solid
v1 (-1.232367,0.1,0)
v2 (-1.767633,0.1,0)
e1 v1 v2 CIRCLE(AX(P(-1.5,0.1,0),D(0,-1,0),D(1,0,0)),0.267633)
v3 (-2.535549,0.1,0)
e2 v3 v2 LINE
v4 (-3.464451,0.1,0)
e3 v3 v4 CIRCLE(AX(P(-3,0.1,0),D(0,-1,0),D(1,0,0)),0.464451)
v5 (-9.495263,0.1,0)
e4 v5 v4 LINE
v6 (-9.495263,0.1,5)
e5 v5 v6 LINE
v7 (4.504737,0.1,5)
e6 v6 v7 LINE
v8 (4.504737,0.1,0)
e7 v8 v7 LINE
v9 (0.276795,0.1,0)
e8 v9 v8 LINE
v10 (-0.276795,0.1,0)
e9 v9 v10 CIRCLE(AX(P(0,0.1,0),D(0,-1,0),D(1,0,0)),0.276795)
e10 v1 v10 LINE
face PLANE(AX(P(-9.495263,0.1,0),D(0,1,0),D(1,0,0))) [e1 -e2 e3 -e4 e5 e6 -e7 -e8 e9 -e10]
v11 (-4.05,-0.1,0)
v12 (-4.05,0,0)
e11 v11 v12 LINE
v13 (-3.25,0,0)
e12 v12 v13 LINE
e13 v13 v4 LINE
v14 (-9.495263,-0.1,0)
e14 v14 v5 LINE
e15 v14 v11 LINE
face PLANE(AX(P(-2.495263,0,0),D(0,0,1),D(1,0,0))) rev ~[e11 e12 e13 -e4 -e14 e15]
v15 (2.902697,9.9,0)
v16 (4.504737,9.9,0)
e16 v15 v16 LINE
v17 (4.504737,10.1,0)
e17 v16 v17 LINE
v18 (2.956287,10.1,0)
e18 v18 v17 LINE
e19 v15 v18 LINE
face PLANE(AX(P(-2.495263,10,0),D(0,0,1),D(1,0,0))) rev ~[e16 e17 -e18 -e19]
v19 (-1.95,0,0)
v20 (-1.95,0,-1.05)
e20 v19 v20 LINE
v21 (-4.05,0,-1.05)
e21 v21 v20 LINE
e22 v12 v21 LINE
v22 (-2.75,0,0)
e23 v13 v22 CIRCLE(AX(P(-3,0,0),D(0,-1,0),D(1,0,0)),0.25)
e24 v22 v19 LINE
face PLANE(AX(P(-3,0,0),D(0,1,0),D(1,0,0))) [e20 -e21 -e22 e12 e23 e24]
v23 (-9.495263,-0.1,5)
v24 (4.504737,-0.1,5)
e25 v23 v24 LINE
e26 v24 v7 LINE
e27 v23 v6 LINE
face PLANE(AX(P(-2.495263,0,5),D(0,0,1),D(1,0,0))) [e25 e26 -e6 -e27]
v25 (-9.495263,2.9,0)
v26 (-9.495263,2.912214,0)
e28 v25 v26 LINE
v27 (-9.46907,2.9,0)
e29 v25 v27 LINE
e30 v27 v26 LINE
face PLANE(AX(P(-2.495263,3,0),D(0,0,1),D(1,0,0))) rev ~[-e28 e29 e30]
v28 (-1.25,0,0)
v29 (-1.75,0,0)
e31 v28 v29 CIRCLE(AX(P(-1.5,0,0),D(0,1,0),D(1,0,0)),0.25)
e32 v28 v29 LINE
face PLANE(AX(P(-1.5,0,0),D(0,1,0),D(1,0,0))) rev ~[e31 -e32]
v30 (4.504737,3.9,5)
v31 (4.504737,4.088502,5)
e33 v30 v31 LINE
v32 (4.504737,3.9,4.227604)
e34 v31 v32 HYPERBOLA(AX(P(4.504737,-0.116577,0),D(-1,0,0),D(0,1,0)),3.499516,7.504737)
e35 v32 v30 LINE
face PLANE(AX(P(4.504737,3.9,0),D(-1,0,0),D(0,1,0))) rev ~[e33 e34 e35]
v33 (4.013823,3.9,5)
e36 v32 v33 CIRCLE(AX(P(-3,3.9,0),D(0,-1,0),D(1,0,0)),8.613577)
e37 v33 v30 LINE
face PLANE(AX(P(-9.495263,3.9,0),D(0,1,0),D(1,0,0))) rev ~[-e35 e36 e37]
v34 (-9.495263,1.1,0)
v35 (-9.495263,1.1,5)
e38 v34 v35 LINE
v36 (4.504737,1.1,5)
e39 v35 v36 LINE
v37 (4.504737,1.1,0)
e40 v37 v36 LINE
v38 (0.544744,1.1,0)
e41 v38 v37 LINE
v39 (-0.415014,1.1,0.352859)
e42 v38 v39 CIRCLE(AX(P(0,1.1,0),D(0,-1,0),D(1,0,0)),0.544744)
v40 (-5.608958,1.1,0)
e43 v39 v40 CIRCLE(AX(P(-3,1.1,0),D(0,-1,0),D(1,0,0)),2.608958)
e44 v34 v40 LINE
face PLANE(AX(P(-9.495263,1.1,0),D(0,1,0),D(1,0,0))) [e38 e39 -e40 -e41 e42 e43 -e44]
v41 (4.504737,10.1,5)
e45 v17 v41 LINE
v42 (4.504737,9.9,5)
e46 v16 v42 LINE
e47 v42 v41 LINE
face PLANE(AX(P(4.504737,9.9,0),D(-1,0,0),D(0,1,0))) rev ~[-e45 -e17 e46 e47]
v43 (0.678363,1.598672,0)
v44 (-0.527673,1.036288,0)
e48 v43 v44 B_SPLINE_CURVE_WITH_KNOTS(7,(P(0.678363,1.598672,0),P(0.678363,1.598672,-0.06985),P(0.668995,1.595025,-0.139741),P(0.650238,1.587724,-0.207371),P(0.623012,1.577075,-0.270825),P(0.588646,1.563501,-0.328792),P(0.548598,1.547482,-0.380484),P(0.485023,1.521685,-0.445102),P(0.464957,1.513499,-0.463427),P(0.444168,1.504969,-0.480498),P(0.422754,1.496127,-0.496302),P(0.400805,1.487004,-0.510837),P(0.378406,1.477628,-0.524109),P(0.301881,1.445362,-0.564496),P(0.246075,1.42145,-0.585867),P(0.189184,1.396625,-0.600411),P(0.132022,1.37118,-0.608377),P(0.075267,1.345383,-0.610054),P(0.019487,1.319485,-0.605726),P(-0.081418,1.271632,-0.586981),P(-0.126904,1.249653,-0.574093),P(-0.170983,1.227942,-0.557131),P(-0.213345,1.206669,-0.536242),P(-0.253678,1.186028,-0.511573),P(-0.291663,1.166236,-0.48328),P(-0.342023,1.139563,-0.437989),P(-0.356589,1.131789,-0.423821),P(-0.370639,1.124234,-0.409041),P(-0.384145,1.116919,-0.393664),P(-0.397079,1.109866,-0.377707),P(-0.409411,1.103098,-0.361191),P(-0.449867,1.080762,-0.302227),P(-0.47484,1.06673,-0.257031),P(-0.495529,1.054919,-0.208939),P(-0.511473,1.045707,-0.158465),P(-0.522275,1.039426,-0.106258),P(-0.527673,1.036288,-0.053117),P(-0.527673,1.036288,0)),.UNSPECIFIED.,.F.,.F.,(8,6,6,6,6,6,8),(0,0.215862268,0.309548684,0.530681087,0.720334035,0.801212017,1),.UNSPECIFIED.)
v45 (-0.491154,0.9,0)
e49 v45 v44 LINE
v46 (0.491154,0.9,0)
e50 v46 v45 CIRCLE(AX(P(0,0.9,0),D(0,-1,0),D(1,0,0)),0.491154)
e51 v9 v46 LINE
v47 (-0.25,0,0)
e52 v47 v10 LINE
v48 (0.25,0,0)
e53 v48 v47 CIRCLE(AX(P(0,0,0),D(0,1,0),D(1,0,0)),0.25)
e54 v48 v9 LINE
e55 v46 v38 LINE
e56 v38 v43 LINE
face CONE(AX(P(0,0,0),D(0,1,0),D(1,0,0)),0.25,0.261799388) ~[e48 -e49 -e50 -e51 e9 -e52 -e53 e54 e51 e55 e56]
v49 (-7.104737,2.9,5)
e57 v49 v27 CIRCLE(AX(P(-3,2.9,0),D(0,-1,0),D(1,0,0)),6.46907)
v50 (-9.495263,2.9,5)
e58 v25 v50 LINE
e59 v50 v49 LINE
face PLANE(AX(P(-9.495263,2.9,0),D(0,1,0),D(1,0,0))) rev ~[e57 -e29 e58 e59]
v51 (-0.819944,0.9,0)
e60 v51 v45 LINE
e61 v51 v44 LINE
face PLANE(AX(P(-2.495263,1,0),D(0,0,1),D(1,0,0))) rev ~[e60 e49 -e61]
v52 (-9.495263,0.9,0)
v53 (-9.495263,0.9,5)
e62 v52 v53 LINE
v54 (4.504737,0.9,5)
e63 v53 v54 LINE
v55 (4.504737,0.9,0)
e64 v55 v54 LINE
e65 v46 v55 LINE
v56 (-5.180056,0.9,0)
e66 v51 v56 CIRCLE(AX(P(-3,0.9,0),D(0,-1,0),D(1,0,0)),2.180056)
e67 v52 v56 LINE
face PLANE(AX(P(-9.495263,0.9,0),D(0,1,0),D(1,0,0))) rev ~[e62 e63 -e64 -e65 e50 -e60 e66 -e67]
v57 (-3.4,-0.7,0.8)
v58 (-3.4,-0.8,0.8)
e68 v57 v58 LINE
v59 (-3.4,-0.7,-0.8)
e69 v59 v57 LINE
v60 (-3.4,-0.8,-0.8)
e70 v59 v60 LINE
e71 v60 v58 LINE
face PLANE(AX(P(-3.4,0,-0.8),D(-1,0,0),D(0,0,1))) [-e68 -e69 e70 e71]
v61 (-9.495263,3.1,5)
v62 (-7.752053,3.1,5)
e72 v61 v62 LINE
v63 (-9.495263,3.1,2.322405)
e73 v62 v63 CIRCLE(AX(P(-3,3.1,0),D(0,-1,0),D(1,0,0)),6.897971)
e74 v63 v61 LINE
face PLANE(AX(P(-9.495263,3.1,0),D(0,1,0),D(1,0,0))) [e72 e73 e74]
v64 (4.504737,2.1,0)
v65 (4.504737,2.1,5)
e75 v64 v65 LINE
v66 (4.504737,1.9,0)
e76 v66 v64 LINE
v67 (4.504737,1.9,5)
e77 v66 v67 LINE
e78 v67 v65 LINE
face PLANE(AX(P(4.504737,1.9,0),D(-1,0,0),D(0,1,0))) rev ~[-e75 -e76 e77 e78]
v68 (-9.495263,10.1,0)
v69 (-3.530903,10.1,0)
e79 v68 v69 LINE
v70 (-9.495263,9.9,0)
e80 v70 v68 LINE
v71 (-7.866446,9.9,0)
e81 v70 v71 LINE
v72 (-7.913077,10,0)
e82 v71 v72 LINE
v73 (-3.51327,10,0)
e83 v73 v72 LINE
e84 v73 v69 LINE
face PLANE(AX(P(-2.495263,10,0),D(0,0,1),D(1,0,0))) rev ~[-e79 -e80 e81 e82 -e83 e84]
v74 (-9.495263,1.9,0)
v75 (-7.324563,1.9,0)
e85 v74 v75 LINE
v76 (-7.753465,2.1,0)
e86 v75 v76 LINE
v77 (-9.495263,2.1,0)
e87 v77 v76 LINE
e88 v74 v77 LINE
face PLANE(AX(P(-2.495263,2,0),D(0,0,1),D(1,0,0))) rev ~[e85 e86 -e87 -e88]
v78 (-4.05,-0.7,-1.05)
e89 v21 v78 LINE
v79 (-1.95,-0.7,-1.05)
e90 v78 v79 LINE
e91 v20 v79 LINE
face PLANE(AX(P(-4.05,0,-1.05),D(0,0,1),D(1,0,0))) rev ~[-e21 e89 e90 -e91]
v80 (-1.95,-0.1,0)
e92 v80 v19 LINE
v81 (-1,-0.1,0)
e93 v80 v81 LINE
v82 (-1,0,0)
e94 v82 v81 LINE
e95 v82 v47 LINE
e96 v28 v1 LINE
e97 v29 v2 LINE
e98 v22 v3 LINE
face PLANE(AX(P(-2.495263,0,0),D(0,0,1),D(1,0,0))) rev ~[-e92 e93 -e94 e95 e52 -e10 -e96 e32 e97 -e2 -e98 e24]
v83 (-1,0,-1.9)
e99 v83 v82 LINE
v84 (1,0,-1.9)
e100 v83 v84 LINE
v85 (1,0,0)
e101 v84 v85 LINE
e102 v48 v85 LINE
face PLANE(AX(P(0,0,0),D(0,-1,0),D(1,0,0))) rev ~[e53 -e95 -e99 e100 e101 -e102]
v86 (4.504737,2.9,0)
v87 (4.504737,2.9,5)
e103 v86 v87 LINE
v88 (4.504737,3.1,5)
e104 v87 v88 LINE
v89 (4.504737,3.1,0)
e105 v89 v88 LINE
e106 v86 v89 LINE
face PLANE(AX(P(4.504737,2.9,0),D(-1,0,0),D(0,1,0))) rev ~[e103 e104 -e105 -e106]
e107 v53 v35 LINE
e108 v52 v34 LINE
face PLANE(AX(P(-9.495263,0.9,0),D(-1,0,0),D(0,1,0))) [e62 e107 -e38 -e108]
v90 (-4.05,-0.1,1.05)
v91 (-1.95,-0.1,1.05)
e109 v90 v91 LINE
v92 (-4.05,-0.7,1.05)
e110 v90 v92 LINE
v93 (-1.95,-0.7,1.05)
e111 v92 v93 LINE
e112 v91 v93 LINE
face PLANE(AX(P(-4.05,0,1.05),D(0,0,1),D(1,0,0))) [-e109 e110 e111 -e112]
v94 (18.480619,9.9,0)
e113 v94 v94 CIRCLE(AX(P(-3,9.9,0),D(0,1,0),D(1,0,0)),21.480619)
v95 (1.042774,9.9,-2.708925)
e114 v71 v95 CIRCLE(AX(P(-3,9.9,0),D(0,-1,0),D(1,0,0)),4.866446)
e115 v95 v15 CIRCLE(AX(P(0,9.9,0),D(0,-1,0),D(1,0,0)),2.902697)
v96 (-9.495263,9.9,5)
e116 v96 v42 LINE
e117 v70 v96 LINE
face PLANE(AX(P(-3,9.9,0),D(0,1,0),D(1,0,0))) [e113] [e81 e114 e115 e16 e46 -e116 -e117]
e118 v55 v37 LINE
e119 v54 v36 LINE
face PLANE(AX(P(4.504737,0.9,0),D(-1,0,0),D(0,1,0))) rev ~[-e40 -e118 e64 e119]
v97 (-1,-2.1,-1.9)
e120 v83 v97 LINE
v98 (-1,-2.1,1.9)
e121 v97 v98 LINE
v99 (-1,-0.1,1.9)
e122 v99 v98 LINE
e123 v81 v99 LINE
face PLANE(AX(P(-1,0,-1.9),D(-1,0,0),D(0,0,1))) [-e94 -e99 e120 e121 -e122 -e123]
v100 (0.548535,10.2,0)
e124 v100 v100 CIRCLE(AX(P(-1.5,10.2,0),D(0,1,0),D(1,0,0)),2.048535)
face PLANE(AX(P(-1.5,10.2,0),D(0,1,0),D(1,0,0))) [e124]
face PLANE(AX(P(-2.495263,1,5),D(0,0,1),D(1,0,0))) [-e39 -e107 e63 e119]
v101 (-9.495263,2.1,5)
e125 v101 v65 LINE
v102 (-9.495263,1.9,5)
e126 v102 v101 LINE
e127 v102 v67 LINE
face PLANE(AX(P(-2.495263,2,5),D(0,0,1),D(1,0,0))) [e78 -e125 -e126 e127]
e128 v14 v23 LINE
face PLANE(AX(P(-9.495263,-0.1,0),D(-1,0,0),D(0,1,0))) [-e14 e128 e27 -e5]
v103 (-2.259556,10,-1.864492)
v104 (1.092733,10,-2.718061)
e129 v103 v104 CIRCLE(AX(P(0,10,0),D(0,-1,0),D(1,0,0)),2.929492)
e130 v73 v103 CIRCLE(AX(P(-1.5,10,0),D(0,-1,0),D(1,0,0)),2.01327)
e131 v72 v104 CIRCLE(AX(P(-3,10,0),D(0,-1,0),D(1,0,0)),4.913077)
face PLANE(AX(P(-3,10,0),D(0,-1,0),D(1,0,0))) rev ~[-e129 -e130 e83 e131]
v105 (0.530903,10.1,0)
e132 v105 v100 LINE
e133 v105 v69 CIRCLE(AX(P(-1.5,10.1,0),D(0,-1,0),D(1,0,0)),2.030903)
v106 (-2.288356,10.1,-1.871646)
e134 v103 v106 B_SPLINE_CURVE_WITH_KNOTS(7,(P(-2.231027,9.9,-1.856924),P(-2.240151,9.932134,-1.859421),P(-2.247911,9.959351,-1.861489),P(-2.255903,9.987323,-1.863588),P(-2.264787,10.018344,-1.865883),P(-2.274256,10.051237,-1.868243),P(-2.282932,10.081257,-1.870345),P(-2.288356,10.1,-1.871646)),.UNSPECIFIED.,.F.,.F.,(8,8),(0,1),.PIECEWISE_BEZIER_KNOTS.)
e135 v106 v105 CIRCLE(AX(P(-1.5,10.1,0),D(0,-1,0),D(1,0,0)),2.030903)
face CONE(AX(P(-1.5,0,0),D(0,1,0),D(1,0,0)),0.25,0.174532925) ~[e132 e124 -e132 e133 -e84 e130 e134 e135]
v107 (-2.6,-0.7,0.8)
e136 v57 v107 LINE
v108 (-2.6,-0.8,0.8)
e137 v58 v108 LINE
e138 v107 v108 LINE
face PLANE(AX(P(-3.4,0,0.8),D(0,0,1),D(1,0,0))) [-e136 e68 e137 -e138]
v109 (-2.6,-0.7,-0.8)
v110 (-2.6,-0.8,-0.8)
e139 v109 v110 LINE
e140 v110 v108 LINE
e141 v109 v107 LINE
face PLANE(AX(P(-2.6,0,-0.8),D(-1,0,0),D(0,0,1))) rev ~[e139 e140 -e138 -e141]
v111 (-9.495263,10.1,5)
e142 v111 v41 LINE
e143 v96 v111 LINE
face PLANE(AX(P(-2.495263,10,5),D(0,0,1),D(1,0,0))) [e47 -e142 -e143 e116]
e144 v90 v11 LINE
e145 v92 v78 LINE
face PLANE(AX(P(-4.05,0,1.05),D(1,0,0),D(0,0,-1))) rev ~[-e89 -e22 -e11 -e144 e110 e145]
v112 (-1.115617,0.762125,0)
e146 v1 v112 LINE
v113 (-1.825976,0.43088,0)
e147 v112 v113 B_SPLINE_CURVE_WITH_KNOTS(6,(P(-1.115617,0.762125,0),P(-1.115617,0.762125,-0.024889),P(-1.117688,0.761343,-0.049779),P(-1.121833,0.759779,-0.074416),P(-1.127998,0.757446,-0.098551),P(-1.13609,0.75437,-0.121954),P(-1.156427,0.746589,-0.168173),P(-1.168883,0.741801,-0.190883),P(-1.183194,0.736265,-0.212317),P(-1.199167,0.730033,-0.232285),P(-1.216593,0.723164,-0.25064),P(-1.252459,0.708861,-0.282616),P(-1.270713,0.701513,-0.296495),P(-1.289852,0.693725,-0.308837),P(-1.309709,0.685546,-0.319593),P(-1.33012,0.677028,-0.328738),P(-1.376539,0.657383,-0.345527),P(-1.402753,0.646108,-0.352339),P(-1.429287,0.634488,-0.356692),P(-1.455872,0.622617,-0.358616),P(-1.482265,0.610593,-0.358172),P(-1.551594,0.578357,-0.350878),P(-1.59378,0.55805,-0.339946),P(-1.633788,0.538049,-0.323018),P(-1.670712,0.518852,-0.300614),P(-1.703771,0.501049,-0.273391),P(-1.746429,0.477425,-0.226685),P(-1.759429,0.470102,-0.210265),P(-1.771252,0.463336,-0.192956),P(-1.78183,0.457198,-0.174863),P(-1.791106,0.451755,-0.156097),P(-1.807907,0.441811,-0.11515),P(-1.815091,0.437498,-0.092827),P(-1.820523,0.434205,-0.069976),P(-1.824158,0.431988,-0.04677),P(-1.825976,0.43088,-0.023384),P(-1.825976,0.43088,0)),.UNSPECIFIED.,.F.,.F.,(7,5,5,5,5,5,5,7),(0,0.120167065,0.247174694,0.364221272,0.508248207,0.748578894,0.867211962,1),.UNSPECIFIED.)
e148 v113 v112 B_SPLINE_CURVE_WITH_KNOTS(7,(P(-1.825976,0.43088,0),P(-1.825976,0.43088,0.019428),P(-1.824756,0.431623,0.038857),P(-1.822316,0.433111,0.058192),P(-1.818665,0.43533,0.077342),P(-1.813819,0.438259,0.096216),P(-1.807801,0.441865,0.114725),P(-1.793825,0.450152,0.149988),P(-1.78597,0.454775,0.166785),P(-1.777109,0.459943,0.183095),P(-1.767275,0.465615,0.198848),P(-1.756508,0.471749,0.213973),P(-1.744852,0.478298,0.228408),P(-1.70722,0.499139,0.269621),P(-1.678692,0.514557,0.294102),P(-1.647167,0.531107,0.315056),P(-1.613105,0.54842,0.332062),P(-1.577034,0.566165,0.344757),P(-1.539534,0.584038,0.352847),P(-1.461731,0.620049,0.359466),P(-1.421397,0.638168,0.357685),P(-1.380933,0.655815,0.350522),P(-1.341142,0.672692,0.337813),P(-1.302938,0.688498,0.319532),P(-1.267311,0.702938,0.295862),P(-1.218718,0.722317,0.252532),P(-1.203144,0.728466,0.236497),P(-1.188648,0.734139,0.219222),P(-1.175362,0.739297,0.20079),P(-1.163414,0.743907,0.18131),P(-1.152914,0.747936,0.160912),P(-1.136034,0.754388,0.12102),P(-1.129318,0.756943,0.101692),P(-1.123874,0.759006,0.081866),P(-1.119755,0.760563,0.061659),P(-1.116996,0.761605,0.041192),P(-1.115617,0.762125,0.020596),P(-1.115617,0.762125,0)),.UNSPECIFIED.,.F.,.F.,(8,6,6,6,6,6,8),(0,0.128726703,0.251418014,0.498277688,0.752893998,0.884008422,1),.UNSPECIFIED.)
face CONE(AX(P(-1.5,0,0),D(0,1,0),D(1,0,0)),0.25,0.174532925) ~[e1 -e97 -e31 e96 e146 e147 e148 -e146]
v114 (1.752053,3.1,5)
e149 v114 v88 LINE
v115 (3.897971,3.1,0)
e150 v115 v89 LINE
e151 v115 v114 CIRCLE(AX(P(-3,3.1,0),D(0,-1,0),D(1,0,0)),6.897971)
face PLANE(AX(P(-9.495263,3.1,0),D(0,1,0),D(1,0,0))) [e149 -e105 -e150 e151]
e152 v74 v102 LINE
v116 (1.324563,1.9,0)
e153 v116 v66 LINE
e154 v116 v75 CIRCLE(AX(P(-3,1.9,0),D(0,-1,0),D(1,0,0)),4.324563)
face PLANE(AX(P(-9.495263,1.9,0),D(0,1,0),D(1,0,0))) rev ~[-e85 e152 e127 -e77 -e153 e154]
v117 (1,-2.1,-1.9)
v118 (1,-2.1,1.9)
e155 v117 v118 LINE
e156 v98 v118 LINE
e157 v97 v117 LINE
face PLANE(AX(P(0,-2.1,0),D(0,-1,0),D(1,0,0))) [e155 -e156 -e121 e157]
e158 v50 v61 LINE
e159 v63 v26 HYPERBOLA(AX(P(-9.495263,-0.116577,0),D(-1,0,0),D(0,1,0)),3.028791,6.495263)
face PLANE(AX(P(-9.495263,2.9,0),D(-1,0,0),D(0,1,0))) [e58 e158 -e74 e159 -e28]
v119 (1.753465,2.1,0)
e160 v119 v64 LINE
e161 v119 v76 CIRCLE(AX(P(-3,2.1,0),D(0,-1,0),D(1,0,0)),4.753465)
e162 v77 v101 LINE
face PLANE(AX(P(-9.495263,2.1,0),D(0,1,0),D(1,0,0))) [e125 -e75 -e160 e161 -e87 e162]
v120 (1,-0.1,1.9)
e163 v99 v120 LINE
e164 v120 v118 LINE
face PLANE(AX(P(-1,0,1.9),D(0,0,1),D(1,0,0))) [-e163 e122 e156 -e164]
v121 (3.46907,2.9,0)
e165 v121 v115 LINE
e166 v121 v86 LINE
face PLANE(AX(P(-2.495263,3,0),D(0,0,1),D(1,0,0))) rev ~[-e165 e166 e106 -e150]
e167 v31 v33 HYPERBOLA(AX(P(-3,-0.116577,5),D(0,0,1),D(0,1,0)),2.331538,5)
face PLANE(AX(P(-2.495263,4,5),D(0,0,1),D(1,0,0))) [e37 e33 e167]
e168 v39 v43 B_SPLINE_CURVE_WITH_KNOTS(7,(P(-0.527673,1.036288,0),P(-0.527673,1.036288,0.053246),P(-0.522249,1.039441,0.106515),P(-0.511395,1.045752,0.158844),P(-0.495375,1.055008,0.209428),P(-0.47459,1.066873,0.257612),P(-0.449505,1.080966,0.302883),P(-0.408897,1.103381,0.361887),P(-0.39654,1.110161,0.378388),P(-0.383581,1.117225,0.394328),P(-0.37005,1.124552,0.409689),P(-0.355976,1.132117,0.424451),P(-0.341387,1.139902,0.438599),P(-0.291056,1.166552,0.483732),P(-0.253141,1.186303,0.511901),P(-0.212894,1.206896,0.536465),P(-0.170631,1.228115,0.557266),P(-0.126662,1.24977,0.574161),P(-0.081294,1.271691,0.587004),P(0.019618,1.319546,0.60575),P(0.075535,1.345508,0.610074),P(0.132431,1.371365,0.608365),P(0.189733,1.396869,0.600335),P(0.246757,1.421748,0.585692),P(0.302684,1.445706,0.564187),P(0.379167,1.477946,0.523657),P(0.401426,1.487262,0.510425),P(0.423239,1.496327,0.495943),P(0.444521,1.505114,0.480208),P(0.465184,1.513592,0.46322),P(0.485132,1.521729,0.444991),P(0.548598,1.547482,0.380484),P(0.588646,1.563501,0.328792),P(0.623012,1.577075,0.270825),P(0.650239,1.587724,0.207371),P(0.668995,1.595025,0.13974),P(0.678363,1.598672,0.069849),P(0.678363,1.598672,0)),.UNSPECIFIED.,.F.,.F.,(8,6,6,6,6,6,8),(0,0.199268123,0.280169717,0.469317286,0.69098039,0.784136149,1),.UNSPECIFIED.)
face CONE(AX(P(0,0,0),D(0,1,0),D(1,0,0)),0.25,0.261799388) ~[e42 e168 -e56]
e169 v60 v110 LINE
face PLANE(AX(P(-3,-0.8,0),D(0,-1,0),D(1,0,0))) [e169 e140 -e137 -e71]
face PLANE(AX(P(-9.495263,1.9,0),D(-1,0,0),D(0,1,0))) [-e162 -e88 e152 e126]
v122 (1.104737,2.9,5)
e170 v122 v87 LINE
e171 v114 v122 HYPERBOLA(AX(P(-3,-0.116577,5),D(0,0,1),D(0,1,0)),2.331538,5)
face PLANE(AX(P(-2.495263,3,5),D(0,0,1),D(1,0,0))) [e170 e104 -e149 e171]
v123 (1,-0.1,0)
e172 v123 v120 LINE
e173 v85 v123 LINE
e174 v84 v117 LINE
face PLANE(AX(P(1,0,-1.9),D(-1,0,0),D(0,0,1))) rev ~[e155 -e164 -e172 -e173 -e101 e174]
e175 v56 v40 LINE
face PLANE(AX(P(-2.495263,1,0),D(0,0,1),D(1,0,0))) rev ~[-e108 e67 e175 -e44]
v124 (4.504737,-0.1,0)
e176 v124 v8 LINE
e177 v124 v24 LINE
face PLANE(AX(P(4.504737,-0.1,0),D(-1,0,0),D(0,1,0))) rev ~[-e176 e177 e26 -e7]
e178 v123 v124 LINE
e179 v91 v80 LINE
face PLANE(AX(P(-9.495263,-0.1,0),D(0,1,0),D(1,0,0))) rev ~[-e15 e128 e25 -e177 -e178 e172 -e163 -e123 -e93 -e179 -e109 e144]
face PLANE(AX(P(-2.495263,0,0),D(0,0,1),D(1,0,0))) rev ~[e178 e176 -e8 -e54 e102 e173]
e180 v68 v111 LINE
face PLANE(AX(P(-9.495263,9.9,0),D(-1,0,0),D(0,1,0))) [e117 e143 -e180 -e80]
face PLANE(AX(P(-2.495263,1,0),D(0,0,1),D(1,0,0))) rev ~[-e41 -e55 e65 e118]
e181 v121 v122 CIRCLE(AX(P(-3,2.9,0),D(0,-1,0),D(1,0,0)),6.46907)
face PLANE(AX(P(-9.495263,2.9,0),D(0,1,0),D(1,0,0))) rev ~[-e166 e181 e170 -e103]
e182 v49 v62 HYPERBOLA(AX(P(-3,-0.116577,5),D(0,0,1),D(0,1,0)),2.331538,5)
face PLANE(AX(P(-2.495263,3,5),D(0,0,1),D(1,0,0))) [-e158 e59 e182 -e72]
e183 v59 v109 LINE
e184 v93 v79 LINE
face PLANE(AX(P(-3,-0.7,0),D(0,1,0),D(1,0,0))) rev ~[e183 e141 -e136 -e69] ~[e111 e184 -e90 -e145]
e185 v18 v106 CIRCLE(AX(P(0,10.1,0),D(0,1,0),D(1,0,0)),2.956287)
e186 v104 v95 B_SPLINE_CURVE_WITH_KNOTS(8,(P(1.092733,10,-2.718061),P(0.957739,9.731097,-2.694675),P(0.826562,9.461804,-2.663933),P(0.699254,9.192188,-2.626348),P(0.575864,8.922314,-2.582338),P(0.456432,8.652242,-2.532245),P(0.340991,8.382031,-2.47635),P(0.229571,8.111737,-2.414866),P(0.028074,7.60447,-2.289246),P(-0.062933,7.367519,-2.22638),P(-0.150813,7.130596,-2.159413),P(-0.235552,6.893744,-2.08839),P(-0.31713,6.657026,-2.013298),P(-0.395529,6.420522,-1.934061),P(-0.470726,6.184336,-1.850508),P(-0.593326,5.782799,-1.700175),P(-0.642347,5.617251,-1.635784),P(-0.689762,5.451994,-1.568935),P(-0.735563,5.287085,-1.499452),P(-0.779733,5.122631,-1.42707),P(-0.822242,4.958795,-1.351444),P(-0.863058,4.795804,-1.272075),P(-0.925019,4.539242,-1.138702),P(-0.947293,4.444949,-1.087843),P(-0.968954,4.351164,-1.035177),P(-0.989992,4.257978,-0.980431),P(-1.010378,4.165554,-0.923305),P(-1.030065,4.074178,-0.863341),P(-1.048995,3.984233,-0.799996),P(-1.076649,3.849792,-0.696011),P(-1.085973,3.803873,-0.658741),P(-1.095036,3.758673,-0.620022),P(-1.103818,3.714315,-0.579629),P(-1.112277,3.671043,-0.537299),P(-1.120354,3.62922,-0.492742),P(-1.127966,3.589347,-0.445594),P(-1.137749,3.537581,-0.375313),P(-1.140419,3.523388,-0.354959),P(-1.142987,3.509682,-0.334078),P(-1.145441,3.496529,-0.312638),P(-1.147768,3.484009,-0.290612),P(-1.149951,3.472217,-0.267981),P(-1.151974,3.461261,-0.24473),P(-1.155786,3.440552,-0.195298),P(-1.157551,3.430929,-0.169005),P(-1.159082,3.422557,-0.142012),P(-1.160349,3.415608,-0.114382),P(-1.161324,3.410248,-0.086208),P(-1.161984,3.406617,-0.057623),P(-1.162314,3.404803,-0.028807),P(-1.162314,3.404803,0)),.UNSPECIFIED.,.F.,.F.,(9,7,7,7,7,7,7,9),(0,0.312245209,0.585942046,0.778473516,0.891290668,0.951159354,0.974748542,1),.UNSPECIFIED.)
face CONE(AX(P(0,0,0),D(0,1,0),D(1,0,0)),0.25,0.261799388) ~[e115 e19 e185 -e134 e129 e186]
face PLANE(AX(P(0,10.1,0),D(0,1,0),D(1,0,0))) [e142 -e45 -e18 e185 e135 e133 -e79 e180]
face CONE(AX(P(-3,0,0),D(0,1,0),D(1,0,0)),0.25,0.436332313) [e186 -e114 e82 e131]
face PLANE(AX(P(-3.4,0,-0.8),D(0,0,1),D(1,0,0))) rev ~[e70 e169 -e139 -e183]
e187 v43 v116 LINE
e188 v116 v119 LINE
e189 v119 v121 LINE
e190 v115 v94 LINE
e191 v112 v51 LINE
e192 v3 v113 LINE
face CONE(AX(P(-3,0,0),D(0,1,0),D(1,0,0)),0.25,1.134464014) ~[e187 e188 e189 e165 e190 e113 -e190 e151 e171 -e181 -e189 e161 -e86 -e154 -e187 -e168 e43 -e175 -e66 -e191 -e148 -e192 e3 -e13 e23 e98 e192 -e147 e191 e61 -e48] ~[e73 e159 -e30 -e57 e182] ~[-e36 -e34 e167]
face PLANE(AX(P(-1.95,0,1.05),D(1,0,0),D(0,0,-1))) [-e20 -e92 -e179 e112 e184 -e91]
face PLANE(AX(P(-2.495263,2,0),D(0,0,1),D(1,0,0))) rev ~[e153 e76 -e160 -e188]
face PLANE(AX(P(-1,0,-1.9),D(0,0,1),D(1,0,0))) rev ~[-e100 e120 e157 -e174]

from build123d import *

# Parameters (mm, degrees)
SKETCH1_R           = 0.25
BOSS_EXTRUDE1_DEPTH = 10.1
BOSS_EXTRUDE1_DRAFT = -15
SKETCH2_R           = 0.25
BOSS_EXTRUDE2_DEPTH = 10
BOSS_EXTRUDE2_DRAFT = 25
SKETCH3_W           = 14
SKETCH3_H           = 0.2
EXTRUDE_THIN1_DEPTH = 5
SKETCH4_W           = 2.1
SKETCH4_H           = 2.1
BOSS_EXTRUDE3_DEPTH = 0.7
SKETCH5_W           = 2
SKETCH5_H           = 3.8
BOSS_EXTRUDE4_DEPTH = 2.1
SKETCH7_R           = 0.25
BOSS_EXTRUDE5_DEPTH = 9.9
BOSS_EXTRUDE5_DRAFT = -65
SKETCH8_W           = 0.8
SKETCH8_H           = 1.6
BOSS_EXTRUDE6_DEPTH = 0.8
SKETCH9_R           = 0.25
BOSS_EXTRUDE7_DEPTH = 10.2
BOSS_EXTRUDE7_DRAFT = -10


with BuildPart() as part:
    # Sketch1 → Boss-Extrude1 (with draft: the straight prism first)
    with BuildSketch(Plane(origin=(0, 0, 0), x_dir=(1, 0, 0), z_dir=(0, 1, 0))):
        Circle(SKETCH1_R)
    extrude(amount=BOSS_EXTRUDE1_DEPTH)
    # Boss-Extrude1: the draft: its side faces are tilted about the plane it starts from
    boss_extrude1_sides = [part.faces().sort_by_distance(p)[0] for p in [
        (-0.25, 5.05, 0),
    ]]
    draft(boss_extrude1_sides, Plane(origin=(0, 0, 0), x_dir=(1, 0, 0), z_dir=(0, 1, 0)), BOSS_EXTRUDE1_DRAFT)



with BuildPart() as body_2:
    # Sketch2 → Boss-Extrude2 (with draft: the straight prism first)
    with BuildSketch(Plane.XZ):
        with Locations((-3, 0)):
            Circle(SKETCH2_R)
    extrude(amount=-BOSS_EXTRUDE2_DEPTH)
    # Boss-Extrude2: the draft: its side faces are tilted about the plane it starts from
    boss_extrude2_sides = [body_2.faces().sort_by_distance(p)[0] for p in [
        (-3.25, 5, 0),
    ]]
    draft(boss_extrude2_sides, Plane.XZ, BOSS_EXTRUDE2_DRAFT)


with BuildPart() as part_1:
    add(part.part)

    add(body_2.part)  # Extrude-Thin1 merges body 2
    # Sketch3 → Extrude-Thin1 (add)
    with BuildSketch(Plane.XY):
        with Locations((-2.495263261, 0)):
            Rectangle(SKETCH3_W, SKETCH3_H)
        with Locations((-2.495263261, 1)):
            Rectangle(SKETCH3_W, SKETCH3_H)
        with Locations((-2.495263261, 2)):
            Rectangle(SKETCH3_W, SKETCH3_H)
        with Locations((-2.495263261, 3)):
            Rectangle(SKETCH3_W, SKETCH3_H)
        with Locations((-2.495263261, 4)):
            Rectangle(SKETCH3_W, SKETCH3_H)
        with Locations((-2.495263261, 5)):
            Rectangle(SKETCH3_W, SKETCH3_H)
        with Locations((-2.495263261, 6)):
            Rectangle(SKETCH3_W, SKETCH3_H)
        with Locations((-2.495263261, 7)):
            Rectangle(SKETCH3_W, SKETCH3_H)
        with Locations((-2.495263261, 8)):
            Rectangle(SKETCH3_W, SKETCH3_H)
        with Locations((-2.495263261, 9)):
            Rectangle(SKETCH3_W, SKETCH3_H)
        with Locations((-2.495263261, 10)):
            Rectangle(SKETCH3_W, SKETCH3_H)
    extrude(amount=EXTRUDE_THIN1_DEPTH)

    # Sketch4 → Boss-Extrude3 (add)
    with BuildSketch(Plane(origin=(0, 0, 0), x_dir=(1, 0, 0), z_dir=(0, 1, 0))):
        with Locations((-3, 0)):
            Rectangle(SKETCH4_W, SKETCH4_H)
    extrude(amount=-BOSS_EXTRUDE3_DEPTH)

    # Sketch5 → Boss-Extrude4 (add)
    with BuildSketch(Plane.XZ):
        Rectangle(SKETCH5_W, SKETCH5_H)
    extrude(amount=BOSS_EXTRUDE4_DEPTH)


with BuildPart() as boss_extrude5_tool:
    # Sketch7 → Boss-Extrude5 (with draft: the straight prism first)
    with BuildSketch(Plane(origin=(0, 0, 0), x_dir=(1, 0, 0), z_dir=(0, 1, 0))):
        with Locations((-3, 0)):
            Circle(SKETCH7_R)
    extrude(amount=BOSS_EXTRUDE5_DEPTH)
    # Boss-Extrude5: the draft: its side faces are tilted about the plane it starts from
    boss_extrude5_sides = [boss_extrude5_tool.faces().sort_by_distance(p)[0] for p in [
        (-3.25, 4.95, 0),
    ]]
    draft(boss_extrude5_sides, Plane(origin=(0, 0, 0), x_dir=(1, 0, 0), z_dir=(0, 1, 0)), BOSS_EXTRUDE5_DRAFT)


with BuildPart() as part_2:
    add(part_1.part)

    # Boss-Extrude5: add boss_extrude5_tool
    add(boss_extrude5_tool.part)

    # Sketch8 → Boss-Extrude6 (add)
    with BuildSketch(Plane.XZ):
        with Locations((-3, 0)):
            Rectangle(SKETCH8_W, SKETCH8_H)
    extrude(amount=BOSS_EXTRUDE6_DEPTH)


with BuildPart() as boss_extrude7_tool:
    # Sketch9 → Boss-Extrude7 (with draft: the straight prism first)
    with BuildSketch(Plane(origin=(0, 0, 0), x_dir=(1, 0, 0), z_dir=(0, 1, 0))):
        with Locations((-1.5, 0)):
            Circle(SKETCH9_R)
    extrude(amount=BOSS_EXTRUDE7_DEPTH)
    # Boss-Extrude7: the draft: its side faces are tilted about the plane it starts from
    boss_extrude7_sides = [boss_extrude7_tool.faces().sort_by_distance(p)[0] for p in [
        (-1.75, 5.1, 0),
    ]]
    draft(boss_extrude7_sides, Plane(origin=(0, 0, 0), x_dir=(1, 0, 0), z_dir=(0, 1, 0)), BOSS_EXTRUDE7_DRAFT)


with BuildPart() as part_3:
    add(part_2.part)

    # Boss-Extrude7: add boss_extrude7_tool
    add(boss_extrude7_tool.part)


solid = part_3.part
